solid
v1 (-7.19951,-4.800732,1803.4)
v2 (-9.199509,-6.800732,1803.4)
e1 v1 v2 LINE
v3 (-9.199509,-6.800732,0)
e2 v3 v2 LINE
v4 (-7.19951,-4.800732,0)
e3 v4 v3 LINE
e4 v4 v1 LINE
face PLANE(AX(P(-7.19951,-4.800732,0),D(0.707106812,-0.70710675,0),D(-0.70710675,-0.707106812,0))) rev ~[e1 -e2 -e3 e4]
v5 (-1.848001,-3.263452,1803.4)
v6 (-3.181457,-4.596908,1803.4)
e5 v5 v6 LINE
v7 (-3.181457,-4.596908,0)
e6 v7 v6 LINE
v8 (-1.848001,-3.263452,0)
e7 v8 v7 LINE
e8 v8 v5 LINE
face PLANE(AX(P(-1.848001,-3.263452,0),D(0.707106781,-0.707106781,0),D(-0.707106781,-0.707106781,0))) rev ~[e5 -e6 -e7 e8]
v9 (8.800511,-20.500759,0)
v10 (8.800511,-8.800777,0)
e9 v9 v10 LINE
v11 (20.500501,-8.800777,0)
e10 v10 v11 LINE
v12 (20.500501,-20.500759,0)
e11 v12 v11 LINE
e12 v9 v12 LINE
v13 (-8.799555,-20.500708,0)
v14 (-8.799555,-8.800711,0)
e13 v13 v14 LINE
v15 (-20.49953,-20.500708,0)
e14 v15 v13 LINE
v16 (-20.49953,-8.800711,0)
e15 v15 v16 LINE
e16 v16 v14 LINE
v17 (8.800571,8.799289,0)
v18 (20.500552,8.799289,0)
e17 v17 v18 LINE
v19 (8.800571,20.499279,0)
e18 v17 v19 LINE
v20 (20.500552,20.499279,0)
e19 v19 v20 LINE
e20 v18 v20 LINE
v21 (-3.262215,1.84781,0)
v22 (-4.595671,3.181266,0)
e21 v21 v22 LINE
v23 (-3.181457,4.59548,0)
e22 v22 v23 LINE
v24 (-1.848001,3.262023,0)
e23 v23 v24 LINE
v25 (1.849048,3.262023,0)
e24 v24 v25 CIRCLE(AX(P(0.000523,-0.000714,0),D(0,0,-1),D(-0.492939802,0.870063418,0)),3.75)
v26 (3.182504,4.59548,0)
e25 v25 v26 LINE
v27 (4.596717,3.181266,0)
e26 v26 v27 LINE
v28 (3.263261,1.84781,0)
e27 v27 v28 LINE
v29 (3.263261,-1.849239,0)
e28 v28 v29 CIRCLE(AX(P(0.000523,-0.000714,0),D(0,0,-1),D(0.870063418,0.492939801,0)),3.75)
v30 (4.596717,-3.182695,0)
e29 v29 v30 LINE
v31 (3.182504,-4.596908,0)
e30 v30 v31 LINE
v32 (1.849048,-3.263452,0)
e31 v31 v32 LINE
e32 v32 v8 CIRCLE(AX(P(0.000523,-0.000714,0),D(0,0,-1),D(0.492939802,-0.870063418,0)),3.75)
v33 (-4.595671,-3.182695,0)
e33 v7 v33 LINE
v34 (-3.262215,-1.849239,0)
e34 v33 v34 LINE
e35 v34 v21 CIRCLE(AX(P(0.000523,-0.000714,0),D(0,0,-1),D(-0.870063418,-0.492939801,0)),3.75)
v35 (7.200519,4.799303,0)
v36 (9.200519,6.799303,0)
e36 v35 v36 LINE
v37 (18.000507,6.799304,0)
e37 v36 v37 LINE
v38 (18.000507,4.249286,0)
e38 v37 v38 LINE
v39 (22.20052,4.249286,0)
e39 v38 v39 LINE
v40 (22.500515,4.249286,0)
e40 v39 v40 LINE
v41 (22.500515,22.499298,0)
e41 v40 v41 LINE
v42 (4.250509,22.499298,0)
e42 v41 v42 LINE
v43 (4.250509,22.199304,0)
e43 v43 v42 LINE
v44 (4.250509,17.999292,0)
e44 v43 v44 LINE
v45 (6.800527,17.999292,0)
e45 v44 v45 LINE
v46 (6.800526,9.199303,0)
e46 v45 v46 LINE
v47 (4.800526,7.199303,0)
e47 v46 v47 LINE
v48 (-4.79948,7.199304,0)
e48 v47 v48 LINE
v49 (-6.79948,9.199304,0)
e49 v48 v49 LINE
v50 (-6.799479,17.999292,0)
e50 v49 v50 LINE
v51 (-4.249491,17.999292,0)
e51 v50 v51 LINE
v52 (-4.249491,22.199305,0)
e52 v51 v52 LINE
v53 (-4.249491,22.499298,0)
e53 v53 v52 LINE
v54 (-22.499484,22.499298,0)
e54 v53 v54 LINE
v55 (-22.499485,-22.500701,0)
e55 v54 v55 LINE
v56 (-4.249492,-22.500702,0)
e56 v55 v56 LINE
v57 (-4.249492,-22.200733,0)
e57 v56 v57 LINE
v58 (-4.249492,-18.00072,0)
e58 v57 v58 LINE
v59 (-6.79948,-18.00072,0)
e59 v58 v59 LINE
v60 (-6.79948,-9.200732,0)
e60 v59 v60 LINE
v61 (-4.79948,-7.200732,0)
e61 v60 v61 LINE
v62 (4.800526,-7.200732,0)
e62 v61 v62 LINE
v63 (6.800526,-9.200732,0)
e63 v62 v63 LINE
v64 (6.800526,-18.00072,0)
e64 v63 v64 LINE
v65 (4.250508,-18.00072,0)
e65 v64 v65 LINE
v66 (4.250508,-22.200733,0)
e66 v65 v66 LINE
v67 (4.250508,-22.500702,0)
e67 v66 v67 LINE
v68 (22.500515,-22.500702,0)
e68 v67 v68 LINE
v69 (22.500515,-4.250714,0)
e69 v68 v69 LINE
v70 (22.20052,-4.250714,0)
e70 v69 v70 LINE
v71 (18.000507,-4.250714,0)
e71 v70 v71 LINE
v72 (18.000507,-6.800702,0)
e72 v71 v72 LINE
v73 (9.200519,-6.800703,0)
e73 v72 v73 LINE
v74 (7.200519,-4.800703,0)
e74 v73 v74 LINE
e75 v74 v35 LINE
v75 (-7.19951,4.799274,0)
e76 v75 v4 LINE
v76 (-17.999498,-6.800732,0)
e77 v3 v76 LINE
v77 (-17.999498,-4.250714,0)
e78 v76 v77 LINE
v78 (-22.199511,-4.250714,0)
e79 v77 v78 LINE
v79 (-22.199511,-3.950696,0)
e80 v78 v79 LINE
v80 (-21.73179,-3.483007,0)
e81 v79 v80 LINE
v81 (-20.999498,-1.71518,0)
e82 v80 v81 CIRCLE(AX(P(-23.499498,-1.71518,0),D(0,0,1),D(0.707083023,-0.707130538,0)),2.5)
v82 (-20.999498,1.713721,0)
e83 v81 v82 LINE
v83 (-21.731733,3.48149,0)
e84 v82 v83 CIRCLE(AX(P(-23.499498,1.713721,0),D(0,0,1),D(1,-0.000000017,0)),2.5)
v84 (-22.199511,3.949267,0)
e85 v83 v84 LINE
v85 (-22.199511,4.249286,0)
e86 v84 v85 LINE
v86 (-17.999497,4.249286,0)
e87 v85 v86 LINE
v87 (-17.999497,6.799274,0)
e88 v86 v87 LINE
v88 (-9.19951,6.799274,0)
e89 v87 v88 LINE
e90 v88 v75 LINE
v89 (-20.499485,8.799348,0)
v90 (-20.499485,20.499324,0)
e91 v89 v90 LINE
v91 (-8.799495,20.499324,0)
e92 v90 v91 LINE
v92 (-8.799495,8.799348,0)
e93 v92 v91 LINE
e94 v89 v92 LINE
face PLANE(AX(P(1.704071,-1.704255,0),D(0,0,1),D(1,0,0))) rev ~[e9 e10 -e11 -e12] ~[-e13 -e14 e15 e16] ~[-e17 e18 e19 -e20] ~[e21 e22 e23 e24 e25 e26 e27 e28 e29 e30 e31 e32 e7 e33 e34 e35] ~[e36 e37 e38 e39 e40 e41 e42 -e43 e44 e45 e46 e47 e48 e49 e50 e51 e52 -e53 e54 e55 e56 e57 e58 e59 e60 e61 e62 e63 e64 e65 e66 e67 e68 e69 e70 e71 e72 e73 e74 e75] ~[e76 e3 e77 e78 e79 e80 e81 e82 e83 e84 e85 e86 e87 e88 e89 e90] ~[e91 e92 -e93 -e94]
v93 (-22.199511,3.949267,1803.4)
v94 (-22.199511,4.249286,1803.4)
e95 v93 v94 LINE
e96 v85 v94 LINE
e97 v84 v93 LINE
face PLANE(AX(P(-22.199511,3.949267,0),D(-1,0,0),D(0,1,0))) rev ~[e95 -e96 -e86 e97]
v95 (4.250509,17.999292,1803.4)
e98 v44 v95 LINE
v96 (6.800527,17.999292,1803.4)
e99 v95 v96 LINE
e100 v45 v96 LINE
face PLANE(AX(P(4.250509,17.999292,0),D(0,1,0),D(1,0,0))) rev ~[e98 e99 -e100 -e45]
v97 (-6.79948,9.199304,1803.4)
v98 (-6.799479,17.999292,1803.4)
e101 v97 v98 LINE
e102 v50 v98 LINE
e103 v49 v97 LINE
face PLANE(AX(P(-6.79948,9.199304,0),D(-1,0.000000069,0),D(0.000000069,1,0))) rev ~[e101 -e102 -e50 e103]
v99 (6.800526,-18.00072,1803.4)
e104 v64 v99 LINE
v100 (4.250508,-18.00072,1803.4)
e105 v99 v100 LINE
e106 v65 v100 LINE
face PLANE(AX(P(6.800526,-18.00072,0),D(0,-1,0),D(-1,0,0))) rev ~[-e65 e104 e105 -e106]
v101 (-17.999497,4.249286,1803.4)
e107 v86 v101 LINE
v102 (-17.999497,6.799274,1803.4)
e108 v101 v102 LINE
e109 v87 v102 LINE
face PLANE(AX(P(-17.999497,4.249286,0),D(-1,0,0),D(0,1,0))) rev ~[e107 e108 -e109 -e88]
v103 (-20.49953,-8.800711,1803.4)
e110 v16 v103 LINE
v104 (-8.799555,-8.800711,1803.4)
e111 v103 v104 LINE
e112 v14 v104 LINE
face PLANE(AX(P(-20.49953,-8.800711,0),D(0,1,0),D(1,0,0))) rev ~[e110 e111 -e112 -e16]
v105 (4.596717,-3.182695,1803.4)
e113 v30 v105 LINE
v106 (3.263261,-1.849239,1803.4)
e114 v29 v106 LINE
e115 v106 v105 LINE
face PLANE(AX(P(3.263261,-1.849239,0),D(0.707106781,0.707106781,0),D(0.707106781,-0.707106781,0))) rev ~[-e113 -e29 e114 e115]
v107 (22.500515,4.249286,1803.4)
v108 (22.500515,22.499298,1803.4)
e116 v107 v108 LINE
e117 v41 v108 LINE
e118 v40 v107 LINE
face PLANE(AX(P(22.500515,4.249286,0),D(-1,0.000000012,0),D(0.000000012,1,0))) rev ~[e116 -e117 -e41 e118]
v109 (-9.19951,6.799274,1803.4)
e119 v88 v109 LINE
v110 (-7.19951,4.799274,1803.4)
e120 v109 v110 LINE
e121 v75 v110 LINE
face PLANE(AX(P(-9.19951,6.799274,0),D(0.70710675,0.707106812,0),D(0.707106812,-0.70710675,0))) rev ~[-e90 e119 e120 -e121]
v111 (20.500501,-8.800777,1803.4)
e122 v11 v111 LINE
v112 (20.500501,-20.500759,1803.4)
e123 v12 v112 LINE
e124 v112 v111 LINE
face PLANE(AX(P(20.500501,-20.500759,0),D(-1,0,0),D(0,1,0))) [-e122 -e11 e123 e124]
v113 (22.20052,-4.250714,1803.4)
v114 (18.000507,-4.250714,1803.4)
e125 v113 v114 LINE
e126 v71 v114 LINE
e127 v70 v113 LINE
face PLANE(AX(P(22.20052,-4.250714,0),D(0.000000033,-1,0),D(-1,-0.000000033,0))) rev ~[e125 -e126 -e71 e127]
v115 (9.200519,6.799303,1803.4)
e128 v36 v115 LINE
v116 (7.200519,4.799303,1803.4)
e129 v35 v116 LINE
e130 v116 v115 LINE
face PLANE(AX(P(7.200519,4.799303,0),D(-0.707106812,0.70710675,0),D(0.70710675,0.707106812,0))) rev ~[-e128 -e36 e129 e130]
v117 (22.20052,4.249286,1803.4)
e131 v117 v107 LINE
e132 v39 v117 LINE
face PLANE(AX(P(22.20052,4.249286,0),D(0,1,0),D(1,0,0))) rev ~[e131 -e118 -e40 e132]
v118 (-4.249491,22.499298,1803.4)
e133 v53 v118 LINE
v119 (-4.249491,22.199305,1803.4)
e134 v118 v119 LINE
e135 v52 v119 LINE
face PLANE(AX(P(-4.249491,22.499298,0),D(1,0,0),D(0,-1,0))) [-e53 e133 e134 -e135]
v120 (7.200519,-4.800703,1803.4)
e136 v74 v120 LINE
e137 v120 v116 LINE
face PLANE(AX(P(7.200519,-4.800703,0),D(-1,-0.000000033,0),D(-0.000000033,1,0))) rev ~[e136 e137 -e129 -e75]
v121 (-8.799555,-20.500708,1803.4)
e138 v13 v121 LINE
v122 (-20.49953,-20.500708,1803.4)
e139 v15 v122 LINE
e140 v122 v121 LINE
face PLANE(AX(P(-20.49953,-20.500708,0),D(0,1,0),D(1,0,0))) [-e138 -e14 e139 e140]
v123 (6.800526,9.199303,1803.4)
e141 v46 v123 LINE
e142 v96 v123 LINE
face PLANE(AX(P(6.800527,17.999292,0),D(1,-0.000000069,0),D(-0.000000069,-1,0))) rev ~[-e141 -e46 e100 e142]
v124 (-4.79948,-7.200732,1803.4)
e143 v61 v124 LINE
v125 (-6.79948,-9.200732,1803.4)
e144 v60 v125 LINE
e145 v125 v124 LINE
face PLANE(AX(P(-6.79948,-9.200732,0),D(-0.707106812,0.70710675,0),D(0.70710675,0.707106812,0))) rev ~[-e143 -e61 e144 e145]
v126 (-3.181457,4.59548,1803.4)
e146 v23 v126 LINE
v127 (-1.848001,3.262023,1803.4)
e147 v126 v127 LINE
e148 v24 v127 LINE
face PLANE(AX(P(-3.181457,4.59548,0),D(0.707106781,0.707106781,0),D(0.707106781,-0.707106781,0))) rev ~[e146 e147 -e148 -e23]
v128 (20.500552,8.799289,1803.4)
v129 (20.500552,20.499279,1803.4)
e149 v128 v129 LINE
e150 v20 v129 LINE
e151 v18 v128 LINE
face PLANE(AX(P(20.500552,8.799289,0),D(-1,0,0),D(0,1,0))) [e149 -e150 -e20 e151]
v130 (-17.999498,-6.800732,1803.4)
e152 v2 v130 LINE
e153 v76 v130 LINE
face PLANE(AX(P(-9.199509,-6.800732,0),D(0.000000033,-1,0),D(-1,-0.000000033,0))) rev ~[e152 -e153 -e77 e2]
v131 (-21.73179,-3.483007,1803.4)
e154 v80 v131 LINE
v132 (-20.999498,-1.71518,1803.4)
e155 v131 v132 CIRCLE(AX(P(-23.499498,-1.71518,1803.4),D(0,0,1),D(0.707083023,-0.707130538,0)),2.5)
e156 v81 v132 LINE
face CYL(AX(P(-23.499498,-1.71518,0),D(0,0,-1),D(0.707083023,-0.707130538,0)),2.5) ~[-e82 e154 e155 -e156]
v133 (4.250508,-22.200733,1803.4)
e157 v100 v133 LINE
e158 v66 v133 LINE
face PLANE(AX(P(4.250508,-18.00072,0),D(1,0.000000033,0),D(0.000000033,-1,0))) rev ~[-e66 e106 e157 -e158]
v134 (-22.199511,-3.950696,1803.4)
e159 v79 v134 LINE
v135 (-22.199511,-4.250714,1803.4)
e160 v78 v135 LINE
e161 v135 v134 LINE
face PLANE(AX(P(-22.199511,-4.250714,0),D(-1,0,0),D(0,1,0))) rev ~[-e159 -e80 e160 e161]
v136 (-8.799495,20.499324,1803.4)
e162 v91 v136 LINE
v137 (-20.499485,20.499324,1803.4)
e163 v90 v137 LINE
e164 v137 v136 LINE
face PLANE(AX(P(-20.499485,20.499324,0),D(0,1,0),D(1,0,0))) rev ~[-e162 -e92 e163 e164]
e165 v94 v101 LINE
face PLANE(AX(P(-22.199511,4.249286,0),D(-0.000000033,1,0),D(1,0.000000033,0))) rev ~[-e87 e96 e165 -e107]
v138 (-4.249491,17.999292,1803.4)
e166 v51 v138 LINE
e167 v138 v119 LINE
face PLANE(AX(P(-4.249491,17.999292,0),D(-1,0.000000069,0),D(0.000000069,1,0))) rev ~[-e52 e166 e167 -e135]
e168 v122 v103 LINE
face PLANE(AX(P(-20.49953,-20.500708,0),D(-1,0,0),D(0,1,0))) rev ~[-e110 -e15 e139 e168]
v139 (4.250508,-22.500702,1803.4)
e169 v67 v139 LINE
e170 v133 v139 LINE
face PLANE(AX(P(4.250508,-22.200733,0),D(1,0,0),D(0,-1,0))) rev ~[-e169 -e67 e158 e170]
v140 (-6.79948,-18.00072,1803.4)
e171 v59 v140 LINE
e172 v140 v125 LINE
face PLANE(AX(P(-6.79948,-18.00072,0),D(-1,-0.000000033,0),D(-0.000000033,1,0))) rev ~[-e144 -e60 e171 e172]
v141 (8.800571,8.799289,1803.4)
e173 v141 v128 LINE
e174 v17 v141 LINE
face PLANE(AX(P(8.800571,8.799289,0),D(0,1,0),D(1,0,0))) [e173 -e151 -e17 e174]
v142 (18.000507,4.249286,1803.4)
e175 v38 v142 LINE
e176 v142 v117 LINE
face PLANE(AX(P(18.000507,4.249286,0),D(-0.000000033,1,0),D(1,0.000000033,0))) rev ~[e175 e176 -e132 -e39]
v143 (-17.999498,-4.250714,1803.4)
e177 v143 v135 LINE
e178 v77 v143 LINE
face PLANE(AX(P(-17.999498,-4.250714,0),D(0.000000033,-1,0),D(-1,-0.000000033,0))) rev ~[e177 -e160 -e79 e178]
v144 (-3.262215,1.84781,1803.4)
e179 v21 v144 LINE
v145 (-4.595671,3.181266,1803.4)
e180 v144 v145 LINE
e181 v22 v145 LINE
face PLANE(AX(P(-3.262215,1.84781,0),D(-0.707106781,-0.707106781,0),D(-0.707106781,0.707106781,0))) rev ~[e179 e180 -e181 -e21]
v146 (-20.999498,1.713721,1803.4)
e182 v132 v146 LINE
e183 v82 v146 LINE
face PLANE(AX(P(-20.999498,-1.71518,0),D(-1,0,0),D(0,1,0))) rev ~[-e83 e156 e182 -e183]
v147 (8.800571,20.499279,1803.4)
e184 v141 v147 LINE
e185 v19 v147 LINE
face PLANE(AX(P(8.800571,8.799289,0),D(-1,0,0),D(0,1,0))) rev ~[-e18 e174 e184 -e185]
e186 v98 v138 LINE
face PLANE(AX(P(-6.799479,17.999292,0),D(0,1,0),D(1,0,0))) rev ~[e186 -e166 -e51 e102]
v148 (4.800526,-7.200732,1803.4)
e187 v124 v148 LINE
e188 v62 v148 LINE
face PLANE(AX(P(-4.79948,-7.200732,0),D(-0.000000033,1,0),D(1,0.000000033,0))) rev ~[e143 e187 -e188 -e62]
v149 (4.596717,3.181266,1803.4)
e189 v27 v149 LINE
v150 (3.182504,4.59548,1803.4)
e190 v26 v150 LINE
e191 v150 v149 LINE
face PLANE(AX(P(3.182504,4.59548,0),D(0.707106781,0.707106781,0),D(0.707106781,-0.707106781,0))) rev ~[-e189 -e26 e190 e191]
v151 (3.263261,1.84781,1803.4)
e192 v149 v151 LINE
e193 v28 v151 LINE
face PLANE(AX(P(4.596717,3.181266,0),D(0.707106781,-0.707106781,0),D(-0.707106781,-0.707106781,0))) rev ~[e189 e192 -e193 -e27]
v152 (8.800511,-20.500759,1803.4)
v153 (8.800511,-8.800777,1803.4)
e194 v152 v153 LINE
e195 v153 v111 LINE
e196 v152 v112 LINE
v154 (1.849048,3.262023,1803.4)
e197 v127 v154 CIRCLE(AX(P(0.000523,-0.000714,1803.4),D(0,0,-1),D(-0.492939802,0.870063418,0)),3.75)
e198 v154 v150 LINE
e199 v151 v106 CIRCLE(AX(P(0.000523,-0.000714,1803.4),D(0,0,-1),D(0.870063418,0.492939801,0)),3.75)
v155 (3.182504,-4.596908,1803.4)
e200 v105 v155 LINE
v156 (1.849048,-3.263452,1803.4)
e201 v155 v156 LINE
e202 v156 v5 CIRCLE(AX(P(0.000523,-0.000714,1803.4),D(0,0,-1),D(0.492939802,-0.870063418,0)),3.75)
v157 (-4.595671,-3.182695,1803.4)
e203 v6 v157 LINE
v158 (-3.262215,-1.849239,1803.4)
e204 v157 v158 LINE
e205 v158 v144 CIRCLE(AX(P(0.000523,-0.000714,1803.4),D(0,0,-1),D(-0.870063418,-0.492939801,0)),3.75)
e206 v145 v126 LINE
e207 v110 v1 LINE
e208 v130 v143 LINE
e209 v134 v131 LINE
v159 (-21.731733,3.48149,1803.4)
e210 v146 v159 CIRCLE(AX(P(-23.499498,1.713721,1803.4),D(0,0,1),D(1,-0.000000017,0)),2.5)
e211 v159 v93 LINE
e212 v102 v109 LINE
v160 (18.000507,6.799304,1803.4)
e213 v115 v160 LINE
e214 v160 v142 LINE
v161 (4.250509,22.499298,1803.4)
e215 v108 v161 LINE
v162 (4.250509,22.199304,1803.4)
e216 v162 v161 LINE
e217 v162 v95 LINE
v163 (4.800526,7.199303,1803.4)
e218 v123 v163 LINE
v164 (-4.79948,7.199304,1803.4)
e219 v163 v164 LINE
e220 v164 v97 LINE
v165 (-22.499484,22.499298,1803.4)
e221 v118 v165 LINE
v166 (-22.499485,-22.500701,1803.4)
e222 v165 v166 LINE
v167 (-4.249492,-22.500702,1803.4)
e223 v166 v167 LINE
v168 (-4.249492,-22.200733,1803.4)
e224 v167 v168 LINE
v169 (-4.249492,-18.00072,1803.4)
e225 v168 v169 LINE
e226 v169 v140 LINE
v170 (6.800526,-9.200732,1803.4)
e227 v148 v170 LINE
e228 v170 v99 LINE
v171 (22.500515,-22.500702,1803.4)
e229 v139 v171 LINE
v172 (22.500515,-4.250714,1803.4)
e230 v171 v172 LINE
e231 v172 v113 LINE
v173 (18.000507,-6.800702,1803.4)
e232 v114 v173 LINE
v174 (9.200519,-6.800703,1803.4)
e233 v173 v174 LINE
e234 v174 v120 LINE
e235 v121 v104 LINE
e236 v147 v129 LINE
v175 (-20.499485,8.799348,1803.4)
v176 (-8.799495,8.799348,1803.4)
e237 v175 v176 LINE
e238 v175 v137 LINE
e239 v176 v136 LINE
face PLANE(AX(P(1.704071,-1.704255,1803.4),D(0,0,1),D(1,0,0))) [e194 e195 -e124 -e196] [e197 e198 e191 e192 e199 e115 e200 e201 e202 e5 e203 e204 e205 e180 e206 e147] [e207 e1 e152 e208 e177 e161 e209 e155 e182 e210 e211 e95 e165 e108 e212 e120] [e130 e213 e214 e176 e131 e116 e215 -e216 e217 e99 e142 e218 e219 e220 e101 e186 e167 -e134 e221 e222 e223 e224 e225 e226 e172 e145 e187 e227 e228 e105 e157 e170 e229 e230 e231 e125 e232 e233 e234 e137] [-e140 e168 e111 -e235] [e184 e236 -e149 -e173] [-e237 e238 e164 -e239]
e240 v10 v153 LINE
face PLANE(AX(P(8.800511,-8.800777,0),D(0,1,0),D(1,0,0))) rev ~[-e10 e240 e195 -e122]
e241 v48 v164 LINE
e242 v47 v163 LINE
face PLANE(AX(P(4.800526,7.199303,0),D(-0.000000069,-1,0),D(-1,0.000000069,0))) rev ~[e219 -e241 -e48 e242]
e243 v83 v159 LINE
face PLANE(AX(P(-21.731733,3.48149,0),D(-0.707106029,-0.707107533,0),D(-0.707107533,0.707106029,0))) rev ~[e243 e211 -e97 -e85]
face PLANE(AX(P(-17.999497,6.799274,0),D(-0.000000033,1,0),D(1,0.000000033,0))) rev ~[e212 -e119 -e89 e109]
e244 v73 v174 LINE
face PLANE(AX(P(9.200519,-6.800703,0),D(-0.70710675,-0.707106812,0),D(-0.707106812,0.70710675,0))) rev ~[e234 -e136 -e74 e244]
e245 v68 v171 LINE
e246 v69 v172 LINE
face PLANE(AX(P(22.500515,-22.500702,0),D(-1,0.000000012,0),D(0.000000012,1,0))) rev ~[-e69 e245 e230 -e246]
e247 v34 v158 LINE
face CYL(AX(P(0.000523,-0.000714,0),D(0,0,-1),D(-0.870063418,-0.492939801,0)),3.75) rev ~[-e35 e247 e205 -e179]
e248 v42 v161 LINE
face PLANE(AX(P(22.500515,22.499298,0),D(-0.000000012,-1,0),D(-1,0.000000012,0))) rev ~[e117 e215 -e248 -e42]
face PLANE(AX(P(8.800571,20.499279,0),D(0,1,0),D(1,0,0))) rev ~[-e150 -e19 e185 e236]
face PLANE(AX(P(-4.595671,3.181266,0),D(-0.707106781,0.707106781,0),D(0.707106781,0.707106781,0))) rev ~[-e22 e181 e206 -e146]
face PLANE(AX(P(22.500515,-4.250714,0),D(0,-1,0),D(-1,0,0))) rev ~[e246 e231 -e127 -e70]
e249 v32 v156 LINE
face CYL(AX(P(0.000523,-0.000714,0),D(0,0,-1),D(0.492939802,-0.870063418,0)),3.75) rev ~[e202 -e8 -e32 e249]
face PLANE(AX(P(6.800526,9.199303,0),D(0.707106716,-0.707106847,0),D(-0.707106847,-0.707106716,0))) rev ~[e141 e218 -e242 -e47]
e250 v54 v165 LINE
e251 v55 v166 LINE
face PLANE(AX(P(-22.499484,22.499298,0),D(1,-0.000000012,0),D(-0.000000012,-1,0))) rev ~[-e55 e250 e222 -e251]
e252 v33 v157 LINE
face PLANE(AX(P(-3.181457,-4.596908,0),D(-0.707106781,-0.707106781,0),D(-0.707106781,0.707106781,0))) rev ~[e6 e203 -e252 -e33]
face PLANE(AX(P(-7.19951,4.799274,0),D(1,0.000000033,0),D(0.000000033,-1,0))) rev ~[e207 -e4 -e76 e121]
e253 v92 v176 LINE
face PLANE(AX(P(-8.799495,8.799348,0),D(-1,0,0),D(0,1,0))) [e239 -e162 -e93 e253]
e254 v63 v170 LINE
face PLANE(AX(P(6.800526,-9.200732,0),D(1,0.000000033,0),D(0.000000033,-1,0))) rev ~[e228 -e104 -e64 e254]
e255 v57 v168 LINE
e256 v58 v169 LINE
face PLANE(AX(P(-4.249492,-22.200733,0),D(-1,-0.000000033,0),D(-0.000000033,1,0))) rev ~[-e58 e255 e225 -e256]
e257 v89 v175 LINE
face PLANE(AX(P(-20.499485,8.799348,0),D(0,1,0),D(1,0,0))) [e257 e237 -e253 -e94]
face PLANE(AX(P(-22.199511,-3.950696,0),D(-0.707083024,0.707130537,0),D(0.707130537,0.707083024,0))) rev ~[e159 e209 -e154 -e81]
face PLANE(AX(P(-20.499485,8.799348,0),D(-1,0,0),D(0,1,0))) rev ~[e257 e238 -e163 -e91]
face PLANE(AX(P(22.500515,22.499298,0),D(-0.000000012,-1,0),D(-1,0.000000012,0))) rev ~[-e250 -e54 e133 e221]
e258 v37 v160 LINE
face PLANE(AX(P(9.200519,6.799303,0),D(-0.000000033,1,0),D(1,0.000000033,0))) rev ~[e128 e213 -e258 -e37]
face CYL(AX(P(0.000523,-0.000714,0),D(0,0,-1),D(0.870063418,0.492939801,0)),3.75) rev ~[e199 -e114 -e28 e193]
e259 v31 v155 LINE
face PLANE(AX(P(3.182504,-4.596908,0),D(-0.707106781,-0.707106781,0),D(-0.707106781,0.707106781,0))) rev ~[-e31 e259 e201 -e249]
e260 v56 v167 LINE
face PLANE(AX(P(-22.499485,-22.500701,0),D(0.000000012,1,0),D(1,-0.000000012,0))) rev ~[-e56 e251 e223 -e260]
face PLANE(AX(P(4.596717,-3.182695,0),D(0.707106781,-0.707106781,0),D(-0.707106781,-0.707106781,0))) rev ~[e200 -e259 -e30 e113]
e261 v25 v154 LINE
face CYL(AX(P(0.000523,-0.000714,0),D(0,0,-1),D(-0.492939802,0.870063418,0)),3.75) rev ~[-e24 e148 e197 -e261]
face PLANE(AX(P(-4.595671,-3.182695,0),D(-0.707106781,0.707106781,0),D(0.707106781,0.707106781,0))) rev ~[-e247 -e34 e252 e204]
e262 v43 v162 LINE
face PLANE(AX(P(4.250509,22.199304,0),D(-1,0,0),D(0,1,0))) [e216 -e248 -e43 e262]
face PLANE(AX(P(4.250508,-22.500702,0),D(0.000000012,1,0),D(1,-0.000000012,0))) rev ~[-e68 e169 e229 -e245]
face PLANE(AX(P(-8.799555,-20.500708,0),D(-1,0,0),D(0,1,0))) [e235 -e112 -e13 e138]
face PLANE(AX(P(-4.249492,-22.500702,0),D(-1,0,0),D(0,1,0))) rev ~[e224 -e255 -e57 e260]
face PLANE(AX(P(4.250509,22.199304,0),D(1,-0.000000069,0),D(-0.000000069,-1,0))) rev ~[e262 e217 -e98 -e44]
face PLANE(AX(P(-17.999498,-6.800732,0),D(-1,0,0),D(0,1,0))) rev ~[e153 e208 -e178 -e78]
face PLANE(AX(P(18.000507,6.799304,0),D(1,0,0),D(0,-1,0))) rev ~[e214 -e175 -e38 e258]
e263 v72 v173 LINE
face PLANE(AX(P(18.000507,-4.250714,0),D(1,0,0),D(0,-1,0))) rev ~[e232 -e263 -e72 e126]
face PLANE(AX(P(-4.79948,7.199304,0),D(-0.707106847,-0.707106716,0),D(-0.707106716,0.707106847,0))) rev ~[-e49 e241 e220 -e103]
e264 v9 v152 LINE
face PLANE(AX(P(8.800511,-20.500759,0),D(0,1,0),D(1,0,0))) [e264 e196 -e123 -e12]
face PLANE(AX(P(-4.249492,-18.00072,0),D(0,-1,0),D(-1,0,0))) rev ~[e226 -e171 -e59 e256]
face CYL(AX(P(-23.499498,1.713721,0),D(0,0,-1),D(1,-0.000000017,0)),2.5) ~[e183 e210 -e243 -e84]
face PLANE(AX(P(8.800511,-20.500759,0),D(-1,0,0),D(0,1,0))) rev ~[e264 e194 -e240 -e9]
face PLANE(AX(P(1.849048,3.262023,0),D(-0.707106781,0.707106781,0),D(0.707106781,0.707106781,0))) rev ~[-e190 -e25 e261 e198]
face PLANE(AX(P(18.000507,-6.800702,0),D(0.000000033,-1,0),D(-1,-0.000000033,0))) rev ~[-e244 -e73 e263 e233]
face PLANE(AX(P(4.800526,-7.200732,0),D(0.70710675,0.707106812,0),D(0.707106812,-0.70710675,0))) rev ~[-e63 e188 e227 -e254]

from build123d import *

# Parameters (mm, degrees)
SKETCH1_W           = 11.699975178
SKETCH1_H           = 11.699996949
SKETCH1_W_2         = 11.699990436
SKETCH1_H_2         = 11.699981689
SKETCH1_W_3         = 11.699990437
SKETCH1_H_3         = 11.699975177
SKETCH1_W_4         = 11.699981689
SKETCH1_H_4         = 11.699990436
BOSS_EXTRUDE1_DEPTH = 1803.4
CUT_EXTRUDE1_REACH  = 1805.681


with BuildPart() as part:
    # Sketch1 → Boss-Extrude1 (new body)
    with BuildSketch(Plane.XY):
        Polygon((22.500515052, 22.499297556), (-22.499484399, 22.499298105), (-22.499484948, -22.500701346), (-4.249491942, -22.500701568), (-4.249491942, -22.200733242), (-4.24949208, -18.000719999), (-6.799479919, -18.000719999), (-6.799480207, -9.200732353), (-4.799480391, -7.200732362), (4.800525817, -7.200732047), (6.8005258, -9.200731855), (6.800526088, -18.000720263), (4.250507877, -18.000720263), (4.250508015, -22.200733153), (4.250508015, -22.500701672), (22.500514502, -22.500701895), (22.500514725, -4.250714302), (22.200520351, -4.250714302), (18.000507108, -4.25071444), (18.000507108, -6.800702279), (9.200519462, -6.800702567), (7.200519471, -4.800702751), (7.200519156, 4.799303458), (9.200518964, 6.79930344), (18.000507424, 6.799303729), (18.000507424, 4.249285514), (22.200520261, 4.249285652), (22.500514829, 4.249285652), align=None)
        with BuildLine():
            Line((-4.249491247, 17.999291576), (-4.249490956, 22.199304807))
            Line((-4.249490956, 22.199304807), (-3.949472548, 22.199304807))
            Line((-3.949472548, 22.199304807), (-3.481695222, 21.73152644))
            ThreePointArc((-3.481695222, 21.73152644), (-2.670636178, 21.189593132), (-1.713926324, 20.999291428))
            Line((-1.713926324, 20.999291428), (1.714975167, 20.999291428))
            ThreePointArc((1.714975167, 20.999291428), (2.671722509, 21.189608628), (3.482801459, 21.731583767))
            Line((3.482801459, 21.731583767), (3.950490798, 22.199304487))
            Line((3.950490798, 22.199304487), (4.250509108, 22.199304487))
            Line((4.250509108, 22.199304487), (4.250508817, 17.999291575))
            Line((4.250508817, 17.999291575), (6.800527063, 17.999291575))
            Line((6.800527063, 17.999291575), (6.800526453, 9.199302988))
            Line((6.800526453, 9.199302988), (4.800526064, 7.199302969))
            Line((4.800526064, 7.199302969), (-4.799479817, 7.199303635))
            Line((-4.799479817, 7.199303635), (-6.799479854, 9.199304042))
            Line((-6.799479854, 9.199304042), (-6.799479244, 17.999291576))
            Line((-6.799479244, 17.999291576), (-4.249491247, 17.999291576))
        make_face(mode=Mode.SUBTRACT)
        with BuildLine():
            Line((-17.99949762, -4.250714253), (-22.199510799, -4.250714391))
            Line((-22.199510799, -4.250714391), (-22.199510799, -3.950696126))
            Line((-22.199510799, -3.950696126), (-21.731790056, -3.48300681))
            ThreePointArc((-21.731790056, -3.48300681), (-21.189814855, -2.671927844), (-20.999497617, -1.71518046))
            Line((-20.999497617, -1.71518046), (-20.999497617, 1.713721031))
            ThreePointArc((-20.999497617, 1.713721031), (-21.189799286, 2.670430863), (-21.731732544, 3.481489907))
            Line((-21.731732544, 3.481489907), (-22.199510888, 3.949267256))
            Line((-22.199510888, 3.949267256), (-22.199510888, 4.249285566))
            Line((-22.199510888, 4.249285566), (-17.999497356, 4.249285704))
            Line((-17.999497356, 4.249285704), (-17.999497356, 6.79927354))
            Line((-17.999497356, 6.79927354), (-9.199509947, 6.799273828))
            Line((-9.199509947, 6.799273828), (-7.199509956, 4.799274012))
            Line((-7.199509956, 4.799274012), (-7.199509641, -4.800732197))
            Line((-7.199509641, -4.800732197), (-9.199509449, -6.800732179))
            Line((-9.199509449, -6.800732179), (-17.99949762, -6.800732468))
            Line((-17.99949762, -6.800732468), (-17.99949762, -4.250714253))
        make_face(mode=Mode.SUBTRACT)
        with Locations((-14.649542346, -14.650709384)):
            Rectangle(SKETCH1_W, SKETCH1_H, mode=Mode.SUBTRACT)
        with Locations((14.65050626, -14.650767962)):
            Rectangle(SKETCH1_W_2, SKETCH1_H_2, mode=Mode.SUBTRACT)
        with BuildLine():
            Line((-3.181457266, -4.596908447), (-4.595670829, -3.182694885))
            Line((-4.595670829, -3.182694885), (-3.26221457, -1.849238626))
            ThreePointArc((-3.26221457, -1.849238626), (-3.749476751, -0.00071437), (-3.26221457, 1.847809887))
            Line((-3.26221457, 1.847809887), (-4.595670829, 3.181266146))
            Line((-4.595670829, 3.181266146), (-3.181457266, 4.595479708))
            Line((-3.181457266, 4.595479708), (-1.848001007, 3.262023449))
            ThreePointArc((-1.848001007, 3.262023449), (0.000523249, 3.74928563), (1.849047505, 3.262023449))
            Line((1.849047505, 3.262023449), (3.182503764, 4.595479708))
            Line((3.182503764, 4.595479708), (4.596717327, 3.181266146))
            Line((4.596717327, 3.181266146), (3.263261068, 1.847809887))
            ThreePointArc((3.263261068, 1.847809887), (3.750523249, -0.00071437), (3.263261068, -1.849238626))
            Line((3.263261068, -1.849238626), (4.596717327, -3.182694885))
            Line((4.596717327, -3.182694885), (3.182503764, -4.596908447))
            Line((3.182503764, -4.596908447), (1.849047505, -3.263452188))
            ThreePointArc((1.849047505, -3.263452188), (0.000523249, -3.75071437), (-1.848001007, -3.263452188))
            Line((-1.848001007, -3.263452188), (-3.181457266, -4.596908447))
        make_face(mode=Mode.SUBTRACT)
        with Locations((-14.64949028, 14.649335967)):
            Rectangle(SKETCH1_W_3, SKETCH1_H_3, mode=Mode.SUBTRACT)
        with Locations((14.650561583, 14.6492839)):
            Rectangle(SKETCH1_W_4, SKETCH1_H_4, mode=Mode.SUBTRACT)
    extrude(amount=BOSS_EXTRUDE1_DEPTH)

    # Sketch1<4> → Cut-Extrude1 (cut, up to next)
    with BuildSketch(Plane.XY, mode=Mode.PRIVATE) as cut_extrude1_sk1:
        with BuildLine():
            Line((-4.249490956, 22.499297883), (-4.249490956, 22.199304807))
            Line((-4.249490956, 22.199304807), (-3.949472548, 22.199304807))
            Line((-3.949472548, 22.199304807), (-3.481695222, 21.73152644))
            ThreePointArc((-3.481695222, 21.73152644), (-2.670636178, 21.189593132), (-1.713926324, 20.999291428))
            Line((-1.713926324, 20.999291428), (1.714975167, 20.999291428))
            ThreePointArc((1.714975167, 20.999291428), (2.671722509, 21.189608628), (3.482801459, 21.731583767))
            Line((3.482801459, 21.731583767), (3.950490798, 22.199304487))
            Line((3.950490798, 22.199304487), (4.250509108, 22.199304487))
            Line((4.250509108, 22.199304487), (4.250509108, 22.499297779))
            Line((4.250509108, 22.499297779), (-4.249490956, 22.499297883))
        make_face()
    cut_extrude1_tool1 = extrude(cut_extrude1_sk1.sketch, amount=CUT_EXTRUDE1_REACH, mode=Mode.PRIVATE) & part.part
    add(cut_extrude1_tool1.solids().sort_by_distance((0.000518, 21.824215, 0))[0], mode=Mode.SUBTRACT)


solid = part.part
